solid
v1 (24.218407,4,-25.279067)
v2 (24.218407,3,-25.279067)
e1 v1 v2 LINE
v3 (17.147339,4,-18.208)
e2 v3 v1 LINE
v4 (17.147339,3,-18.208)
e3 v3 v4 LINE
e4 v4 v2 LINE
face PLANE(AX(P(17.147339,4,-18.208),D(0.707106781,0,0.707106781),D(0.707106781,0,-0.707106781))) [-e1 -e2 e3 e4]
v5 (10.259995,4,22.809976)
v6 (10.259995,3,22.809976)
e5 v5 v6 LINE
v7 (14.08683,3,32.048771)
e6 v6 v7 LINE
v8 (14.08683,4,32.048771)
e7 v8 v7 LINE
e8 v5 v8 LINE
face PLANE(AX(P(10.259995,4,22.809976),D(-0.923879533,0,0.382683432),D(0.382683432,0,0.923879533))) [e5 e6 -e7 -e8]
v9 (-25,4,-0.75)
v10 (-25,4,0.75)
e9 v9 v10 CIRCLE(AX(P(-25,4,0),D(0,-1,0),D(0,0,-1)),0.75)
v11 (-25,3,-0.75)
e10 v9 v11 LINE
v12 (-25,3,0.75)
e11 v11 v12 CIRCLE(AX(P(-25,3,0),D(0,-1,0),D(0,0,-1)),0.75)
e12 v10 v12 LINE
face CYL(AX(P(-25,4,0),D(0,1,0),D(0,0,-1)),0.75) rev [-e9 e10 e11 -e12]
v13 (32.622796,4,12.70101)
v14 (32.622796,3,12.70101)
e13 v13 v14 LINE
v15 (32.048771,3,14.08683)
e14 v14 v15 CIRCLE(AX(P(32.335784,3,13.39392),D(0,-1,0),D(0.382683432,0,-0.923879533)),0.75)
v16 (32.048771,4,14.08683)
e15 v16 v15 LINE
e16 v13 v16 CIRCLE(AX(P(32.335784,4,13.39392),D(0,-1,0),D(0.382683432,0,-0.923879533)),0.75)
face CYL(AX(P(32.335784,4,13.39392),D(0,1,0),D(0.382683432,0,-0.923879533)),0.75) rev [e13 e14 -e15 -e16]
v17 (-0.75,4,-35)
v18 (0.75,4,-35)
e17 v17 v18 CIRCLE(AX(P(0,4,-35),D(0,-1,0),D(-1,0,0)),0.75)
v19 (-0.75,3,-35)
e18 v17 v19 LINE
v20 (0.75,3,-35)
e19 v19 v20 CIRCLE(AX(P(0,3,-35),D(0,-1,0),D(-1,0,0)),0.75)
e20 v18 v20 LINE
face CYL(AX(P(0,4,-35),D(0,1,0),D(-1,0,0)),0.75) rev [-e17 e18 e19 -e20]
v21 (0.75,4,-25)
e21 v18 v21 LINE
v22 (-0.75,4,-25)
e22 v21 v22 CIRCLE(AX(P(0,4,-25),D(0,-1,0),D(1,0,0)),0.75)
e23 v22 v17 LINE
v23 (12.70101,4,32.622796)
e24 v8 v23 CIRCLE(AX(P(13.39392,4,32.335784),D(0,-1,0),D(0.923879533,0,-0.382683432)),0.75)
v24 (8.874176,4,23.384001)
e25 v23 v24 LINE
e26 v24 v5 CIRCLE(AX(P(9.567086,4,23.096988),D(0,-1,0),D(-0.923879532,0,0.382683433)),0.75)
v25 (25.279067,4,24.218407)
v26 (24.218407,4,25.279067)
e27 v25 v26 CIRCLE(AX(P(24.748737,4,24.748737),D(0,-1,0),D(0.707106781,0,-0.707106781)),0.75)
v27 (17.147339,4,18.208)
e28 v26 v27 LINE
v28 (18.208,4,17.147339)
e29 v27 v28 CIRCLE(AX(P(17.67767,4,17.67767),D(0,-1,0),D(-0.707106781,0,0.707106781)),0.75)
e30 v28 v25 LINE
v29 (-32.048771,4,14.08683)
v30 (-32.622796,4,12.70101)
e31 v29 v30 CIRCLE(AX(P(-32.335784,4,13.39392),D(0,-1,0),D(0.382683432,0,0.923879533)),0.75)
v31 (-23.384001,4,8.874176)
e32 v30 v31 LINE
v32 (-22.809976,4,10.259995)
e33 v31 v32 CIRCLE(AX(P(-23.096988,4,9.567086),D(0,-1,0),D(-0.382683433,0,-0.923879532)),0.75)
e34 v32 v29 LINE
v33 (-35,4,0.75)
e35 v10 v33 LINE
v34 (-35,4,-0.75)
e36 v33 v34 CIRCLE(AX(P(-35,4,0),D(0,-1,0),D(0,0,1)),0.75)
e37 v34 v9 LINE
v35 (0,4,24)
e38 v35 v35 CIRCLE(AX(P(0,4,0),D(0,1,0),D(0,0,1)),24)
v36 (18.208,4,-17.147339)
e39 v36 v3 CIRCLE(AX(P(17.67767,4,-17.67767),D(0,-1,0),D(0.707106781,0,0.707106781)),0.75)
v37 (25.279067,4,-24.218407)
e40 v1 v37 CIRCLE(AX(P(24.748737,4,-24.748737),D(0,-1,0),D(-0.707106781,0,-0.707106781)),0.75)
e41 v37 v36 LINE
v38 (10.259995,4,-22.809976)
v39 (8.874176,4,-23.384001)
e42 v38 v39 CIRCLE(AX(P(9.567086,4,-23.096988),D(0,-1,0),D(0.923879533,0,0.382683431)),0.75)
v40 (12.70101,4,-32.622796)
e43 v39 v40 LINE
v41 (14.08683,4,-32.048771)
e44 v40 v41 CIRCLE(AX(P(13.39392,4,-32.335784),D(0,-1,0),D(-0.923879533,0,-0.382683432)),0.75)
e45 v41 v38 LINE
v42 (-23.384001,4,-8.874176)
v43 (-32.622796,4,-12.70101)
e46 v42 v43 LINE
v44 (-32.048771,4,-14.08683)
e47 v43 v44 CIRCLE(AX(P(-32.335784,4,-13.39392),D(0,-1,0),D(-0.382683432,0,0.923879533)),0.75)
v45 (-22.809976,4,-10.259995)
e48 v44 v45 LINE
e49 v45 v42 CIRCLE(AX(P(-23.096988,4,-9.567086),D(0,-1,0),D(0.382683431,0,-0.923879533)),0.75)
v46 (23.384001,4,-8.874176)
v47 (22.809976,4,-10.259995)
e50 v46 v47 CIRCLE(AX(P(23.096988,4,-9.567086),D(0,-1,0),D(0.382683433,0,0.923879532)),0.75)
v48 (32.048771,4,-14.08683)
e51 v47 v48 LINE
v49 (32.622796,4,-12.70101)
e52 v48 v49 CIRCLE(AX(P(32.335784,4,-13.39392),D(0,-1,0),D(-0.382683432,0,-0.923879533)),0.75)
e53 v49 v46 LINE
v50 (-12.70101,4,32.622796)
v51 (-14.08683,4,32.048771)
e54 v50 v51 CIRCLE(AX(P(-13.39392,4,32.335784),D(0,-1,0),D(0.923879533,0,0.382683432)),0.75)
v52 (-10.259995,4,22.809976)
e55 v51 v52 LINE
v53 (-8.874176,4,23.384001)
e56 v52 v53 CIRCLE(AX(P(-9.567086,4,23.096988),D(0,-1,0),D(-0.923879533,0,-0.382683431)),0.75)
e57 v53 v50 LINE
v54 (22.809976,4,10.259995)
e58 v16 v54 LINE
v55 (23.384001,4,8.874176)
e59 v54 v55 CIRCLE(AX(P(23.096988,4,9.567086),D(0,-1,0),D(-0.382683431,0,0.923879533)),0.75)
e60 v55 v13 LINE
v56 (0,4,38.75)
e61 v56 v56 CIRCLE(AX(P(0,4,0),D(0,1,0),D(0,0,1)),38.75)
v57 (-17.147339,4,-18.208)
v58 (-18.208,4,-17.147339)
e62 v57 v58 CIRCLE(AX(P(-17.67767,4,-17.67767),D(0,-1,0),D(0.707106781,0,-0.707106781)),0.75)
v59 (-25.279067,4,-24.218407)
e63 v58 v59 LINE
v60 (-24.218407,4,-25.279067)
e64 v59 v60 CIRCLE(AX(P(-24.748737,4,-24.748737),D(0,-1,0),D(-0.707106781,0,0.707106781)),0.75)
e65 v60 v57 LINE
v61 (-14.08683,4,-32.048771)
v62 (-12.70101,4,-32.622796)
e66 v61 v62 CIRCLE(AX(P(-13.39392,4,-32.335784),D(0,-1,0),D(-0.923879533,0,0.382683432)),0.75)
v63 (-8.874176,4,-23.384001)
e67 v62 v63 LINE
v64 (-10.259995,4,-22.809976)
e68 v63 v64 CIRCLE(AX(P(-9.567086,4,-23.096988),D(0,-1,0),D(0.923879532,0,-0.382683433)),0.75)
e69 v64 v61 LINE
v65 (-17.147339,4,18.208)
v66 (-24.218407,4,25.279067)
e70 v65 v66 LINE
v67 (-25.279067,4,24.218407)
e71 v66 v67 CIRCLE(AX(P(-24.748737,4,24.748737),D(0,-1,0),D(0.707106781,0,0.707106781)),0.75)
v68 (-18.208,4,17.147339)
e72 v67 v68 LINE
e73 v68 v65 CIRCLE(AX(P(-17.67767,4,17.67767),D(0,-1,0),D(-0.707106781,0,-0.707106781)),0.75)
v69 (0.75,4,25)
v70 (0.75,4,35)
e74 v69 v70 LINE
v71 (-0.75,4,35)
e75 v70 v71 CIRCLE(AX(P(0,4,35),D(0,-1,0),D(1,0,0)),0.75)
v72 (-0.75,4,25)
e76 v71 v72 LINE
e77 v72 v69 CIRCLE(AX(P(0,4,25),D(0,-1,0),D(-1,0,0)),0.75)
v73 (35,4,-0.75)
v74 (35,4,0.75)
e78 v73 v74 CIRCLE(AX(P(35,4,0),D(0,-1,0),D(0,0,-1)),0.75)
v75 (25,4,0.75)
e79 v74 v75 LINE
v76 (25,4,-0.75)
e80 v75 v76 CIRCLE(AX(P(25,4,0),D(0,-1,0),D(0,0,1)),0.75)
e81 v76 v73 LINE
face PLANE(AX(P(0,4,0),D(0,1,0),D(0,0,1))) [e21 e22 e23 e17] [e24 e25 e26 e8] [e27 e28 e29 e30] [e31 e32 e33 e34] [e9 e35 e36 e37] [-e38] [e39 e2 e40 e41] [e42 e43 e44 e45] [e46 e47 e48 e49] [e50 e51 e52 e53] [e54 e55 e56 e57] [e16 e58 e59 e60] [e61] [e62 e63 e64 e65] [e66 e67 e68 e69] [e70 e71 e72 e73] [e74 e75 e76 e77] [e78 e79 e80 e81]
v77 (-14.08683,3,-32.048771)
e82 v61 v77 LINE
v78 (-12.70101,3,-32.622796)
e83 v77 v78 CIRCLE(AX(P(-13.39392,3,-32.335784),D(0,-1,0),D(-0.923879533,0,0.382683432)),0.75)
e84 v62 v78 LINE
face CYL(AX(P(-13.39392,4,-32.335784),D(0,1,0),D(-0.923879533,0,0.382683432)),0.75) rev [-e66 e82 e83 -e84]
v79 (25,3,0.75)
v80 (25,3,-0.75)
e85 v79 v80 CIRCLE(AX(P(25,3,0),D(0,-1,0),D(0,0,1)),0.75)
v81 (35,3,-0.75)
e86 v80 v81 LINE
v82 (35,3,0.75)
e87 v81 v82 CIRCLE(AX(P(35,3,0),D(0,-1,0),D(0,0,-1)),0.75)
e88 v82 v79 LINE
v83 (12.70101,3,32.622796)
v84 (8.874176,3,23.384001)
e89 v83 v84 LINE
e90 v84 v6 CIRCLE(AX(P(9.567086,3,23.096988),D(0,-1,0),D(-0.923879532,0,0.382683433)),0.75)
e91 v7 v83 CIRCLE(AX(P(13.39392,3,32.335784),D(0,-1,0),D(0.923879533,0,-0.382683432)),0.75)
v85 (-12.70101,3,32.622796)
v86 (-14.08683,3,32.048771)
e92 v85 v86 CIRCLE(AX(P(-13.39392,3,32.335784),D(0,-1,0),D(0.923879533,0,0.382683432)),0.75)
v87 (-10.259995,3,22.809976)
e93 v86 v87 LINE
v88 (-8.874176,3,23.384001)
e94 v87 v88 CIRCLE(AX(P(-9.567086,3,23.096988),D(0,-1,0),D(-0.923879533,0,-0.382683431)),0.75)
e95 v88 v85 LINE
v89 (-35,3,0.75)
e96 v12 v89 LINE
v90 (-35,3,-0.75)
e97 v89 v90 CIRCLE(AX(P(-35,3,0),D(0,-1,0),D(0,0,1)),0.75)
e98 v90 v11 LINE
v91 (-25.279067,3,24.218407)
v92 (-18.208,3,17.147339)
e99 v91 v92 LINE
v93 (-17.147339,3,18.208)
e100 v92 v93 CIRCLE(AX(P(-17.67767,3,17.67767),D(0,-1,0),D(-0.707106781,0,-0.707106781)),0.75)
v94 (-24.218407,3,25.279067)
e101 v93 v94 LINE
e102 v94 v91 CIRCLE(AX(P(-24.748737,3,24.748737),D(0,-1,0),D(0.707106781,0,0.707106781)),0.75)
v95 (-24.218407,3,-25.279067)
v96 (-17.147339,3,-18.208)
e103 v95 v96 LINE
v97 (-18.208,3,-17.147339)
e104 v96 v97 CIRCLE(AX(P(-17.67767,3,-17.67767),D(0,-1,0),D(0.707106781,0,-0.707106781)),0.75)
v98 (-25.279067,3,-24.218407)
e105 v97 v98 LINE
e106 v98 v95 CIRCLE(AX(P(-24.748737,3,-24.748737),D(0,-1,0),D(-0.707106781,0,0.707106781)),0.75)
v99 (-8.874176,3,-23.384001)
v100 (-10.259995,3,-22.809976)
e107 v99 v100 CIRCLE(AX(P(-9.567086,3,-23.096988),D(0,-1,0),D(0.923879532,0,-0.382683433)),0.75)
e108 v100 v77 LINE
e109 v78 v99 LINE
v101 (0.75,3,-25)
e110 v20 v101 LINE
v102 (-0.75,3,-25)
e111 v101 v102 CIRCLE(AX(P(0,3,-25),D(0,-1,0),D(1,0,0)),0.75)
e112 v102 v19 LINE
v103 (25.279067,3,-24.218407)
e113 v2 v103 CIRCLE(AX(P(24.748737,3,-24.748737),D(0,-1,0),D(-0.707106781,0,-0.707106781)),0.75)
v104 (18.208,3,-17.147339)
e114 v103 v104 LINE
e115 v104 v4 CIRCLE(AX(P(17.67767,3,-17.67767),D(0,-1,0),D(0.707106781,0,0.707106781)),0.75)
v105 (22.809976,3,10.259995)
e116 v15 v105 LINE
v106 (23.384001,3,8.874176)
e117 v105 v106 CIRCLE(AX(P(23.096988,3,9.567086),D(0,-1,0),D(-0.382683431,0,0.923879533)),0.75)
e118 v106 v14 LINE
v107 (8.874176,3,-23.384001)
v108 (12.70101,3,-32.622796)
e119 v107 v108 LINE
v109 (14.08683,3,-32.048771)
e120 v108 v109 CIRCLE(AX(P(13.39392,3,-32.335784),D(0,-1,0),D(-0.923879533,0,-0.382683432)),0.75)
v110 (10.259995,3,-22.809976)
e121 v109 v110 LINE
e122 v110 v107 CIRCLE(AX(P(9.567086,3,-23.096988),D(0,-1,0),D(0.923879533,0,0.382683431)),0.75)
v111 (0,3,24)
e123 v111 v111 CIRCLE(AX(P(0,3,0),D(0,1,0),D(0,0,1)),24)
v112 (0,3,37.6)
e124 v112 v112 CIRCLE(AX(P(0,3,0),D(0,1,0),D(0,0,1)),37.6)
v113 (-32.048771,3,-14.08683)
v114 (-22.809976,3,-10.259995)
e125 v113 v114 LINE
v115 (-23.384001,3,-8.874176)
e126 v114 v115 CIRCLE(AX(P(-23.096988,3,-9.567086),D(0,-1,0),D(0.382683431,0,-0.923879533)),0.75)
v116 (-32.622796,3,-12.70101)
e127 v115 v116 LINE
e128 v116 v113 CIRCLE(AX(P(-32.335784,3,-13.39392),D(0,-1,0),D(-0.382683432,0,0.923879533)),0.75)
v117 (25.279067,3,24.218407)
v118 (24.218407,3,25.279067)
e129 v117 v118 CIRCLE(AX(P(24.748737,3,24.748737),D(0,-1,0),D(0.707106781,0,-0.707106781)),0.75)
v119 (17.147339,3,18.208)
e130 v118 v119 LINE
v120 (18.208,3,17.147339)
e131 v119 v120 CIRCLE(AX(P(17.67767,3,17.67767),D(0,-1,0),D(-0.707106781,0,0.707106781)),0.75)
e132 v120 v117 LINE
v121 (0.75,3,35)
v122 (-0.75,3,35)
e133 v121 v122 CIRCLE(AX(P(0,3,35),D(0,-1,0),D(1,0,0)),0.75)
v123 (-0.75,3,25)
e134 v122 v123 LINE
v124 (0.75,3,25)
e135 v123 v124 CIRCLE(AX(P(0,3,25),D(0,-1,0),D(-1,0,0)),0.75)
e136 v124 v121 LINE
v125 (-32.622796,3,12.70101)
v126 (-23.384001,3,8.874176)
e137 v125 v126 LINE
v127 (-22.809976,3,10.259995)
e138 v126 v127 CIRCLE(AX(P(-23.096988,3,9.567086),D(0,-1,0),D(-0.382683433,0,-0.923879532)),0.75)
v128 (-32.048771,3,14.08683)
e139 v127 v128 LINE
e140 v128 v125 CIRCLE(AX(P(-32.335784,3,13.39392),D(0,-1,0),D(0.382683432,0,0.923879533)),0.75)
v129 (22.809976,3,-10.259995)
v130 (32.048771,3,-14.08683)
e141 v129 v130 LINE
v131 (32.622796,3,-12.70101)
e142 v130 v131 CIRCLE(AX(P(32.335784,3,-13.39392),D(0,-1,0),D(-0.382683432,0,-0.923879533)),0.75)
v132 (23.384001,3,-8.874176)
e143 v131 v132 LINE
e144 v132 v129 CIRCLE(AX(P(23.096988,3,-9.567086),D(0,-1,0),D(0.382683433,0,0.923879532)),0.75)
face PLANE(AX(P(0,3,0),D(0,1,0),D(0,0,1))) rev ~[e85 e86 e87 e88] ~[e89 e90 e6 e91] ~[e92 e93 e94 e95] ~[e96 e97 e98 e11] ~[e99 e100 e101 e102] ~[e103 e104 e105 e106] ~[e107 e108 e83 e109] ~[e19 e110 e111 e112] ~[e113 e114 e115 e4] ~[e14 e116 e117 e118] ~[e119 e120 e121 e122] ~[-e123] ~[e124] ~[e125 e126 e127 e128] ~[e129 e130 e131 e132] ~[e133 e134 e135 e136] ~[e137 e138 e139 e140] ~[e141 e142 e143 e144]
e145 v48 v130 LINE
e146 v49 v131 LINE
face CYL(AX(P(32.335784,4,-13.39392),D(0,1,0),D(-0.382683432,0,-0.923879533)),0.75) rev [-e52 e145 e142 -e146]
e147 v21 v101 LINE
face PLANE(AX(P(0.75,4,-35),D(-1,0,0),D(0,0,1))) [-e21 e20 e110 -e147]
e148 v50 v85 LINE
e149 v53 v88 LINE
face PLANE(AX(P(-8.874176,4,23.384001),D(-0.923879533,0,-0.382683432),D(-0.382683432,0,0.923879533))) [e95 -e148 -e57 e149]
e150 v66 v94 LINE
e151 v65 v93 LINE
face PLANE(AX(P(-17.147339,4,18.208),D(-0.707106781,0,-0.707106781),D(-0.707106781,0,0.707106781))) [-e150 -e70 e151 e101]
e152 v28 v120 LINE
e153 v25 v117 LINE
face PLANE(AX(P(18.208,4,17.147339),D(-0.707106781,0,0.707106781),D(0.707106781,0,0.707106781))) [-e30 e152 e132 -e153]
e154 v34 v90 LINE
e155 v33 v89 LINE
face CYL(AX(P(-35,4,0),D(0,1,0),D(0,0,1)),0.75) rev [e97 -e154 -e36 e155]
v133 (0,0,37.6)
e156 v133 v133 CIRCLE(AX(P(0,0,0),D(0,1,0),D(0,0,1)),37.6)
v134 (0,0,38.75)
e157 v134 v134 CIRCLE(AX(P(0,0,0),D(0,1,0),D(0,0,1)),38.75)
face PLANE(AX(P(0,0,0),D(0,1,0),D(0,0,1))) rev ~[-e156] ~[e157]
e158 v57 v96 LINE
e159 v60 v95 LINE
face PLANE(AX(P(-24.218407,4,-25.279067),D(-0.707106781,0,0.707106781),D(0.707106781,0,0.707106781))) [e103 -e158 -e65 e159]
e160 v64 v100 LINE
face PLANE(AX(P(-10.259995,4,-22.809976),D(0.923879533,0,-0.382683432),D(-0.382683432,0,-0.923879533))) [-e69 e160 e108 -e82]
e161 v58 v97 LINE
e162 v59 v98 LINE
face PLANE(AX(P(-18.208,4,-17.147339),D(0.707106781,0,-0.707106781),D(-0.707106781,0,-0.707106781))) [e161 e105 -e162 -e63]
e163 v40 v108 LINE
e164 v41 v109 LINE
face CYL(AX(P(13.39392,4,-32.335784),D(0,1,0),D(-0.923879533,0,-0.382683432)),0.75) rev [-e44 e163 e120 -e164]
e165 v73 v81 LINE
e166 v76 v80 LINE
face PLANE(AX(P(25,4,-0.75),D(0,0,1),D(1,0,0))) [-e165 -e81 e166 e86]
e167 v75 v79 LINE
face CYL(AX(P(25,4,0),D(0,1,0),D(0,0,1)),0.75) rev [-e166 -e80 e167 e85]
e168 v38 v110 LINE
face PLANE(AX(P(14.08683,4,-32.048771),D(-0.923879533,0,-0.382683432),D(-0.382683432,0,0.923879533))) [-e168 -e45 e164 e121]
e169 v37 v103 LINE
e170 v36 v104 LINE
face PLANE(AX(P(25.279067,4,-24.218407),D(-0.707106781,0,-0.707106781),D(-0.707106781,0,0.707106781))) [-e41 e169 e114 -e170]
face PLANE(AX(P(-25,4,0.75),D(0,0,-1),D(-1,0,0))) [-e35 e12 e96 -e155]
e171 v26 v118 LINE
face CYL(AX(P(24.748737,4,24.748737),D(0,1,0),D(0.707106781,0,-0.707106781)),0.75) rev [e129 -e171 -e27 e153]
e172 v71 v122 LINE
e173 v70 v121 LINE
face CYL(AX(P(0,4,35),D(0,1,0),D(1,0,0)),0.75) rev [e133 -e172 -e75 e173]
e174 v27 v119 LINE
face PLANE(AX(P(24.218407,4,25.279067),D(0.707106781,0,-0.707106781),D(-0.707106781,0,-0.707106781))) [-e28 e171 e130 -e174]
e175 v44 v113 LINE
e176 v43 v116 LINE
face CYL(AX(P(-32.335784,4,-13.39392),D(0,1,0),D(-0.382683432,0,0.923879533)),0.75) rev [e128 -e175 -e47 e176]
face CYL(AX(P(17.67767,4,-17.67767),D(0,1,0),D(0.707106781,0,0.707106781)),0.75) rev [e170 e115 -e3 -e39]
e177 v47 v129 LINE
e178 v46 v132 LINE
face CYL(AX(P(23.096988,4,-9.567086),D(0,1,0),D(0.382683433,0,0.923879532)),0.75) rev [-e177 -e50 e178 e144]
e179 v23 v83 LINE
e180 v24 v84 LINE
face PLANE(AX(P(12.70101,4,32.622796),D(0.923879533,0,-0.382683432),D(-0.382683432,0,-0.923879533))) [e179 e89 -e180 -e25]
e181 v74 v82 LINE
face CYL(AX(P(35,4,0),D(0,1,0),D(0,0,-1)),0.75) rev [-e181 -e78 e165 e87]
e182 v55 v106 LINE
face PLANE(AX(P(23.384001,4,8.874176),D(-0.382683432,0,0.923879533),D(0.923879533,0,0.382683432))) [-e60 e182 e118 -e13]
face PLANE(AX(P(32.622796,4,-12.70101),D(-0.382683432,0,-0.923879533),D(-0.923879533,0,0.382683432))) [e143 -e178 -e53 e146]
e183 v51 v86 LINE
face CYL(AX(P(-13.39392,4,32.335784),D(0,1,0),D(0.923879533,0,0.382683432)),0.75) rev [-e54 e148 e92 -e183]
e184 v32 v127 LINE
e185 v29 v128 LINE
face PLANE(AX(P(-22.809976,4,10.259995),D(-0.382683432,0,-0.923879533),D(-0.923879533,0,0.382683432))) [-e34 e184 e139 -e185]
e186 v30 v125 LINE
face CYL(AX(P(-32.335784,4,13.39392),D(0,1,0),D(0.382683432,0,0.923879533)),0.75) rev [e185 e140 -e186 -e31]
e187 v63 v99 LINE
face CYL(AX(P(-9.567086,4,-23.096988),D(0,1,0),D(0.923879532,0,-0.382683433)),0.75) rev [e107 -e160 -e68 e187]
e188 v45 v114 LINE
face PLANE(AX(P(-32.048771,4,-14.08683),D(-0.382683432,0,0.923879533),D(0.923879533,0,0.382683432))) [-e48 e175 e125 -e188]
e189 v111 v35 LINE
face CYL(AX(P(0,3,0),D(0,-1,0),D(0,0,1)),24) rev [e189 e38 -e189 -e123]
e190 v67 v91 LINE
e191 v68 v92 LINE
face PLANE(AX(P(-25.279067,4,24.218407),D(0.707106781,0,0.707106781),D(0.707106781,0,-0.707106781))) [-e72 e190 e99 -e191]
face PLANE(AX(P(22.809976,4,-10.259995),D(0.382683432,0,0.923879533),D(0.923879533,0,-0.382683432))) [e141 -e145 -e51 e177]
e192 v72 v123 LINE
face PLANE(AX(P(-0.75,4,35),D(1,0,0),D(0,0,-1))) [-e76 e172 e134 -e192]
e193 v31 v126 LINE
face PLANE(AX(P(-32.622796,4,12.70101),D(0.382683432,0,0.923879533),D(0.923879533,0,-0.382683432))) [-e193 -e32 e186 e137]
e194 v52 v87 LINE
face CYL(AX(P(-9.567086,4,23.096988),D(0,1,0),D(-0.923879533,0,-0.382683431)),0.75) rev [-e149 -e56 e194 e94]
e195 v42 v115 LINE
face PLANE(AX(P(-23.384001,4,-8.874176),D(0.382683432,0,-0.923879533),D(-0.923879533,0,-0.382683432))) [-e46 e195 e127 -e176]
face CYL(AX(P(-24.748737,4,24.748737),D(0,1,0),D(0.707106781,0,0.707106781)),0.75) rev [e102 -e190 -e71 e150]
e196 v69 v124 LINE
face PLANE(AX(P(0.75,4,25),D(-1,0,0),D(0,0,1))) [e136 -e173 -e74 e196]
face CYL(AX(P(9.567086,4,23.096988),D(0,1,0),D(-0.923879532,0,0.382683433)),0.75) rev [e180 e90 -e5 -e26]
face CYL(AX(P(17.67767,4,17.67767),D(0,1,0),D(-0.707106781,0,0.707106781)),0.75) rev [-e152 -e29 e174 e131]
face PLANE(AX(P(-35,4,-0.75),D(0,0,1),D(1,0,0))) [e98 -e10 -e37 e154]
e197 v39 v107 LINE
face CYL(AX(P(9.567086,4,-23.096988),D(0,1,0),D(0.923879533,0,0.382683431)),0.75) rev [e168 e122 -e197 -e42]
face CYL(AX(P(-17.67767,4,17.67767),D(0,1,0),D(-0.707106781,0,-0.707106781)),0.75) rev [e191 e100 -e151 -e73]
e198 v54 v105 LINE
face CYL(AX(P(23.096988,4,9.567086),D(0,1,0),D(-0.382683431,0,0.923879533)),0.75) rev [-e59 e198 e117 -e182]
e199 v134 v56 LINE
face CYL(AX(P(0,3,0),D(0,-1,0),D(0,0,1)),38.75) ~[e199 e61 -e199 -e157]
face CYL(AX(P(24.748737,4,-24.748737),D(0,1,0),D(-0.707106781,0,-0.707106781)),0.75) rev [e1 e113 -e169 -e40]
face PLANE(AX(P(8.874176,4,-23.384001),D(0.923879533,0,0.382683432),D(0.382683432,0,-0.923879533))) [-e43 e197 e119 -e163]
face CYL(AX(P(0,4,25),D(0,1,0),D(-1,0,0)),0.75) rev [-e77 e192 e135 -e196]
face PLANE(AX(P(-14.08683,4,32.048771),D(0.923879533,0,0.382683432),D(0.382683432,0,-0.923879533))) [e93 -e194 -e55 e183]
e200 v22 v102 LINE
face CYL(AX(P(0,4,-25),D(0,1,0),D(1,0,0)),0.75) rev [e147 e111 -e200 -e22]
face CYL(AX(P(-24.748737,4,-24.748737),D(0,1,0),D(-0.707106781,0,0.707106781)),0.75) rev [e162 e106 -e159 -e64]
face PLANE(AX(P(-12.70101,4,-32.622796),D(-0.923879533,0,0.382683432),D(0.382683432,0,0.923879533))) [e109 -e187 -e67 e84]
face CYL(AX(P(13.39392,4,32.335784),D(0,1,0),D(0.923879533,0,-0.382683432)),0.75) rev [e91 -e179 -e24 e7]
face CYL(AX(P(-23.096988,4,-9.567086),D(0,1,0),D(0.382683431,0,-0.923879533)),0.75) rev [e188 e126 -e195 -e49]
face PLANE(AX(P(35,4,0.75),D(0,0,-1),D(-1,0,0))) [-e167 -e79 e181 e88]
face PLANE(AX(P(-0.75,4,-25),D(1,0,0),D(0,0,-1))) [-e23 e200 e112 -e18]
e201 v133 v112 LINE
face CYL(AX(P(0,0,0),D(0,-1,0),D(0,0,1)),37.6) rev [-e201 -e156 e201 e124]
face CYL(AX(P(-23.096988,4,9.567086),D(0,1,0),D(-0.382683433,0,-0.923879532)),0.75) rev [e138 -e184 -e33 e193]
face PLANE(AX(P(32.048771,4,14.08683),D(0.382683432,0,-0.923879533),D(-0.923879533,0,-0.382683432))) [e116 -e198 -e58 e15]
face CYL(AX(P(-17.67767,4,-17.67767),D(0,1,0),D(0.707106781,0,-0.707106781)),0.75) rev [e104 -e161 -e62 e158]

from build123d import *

# Parameters (mm, degrees)
SKETCH1_R           = 38.75
SKETCH1_R_2         = 37.6
BOSS_EXTRUDE1_DEPTH = 3
SKETCH2_R           = 38.75
SKETCH2_R_2         = 24
BOSS_EXTRUDE2_DEPTH = 1
CUT_EXTRUDE3_DEPTH  = 1


with BuildPart() as part:
    # Sketch1 → Boss-Extrude1 (new body)
    with BuildSketch(Plane(origin=(0, 0, 0), x_dir=(1, 0, 0), z_dir=(0, 1, 0))):
        with Locations(Location((0, 0, 0), (0, 0, 270))):
            Circle(SKETCH1_R)
        with Locations(Location((0, 0, 0), (0, 0, 270))):
            Circle(SKETCH1_R_2, mode=Mode.SUBTRACT)
    extrude(amount=BOSS_EXTRUDE1_DEPTH)

    # Sketch2 → Boss-Extrude2 (add)
    with BuildSketch(Plane(origin=(0, 3, 0), x_dir=(1, 0, 0), z_dir=(0, 1, 0))):
        with Locations(Location((0, 0, 0), (0, 0, 270))):
            Circle(SKETCH2_R)
        with Locations(Location((0, 0, 0), (0, 0, 270))):
            Circle(SKETCH2_R_2, mode=Mode.SUBTRACT)
    extrude(amount=BOSS_EXTRUDE2_DEPTH)

    # Sketch4 → Cut-Extrude3 (cut)
    with BuildSketch(Plane(origin=(0, 4, 0), x_dir=(1, 0, 0), z_dir=(0, 1, 0))):
        with BuildLine():
            Line((-0.75, 25), (-0.75, 35))
            ThreePointArc((-0.75, 35), (0, 35.75), (0.75, 35))
            Line((0.75, 35), (0.75, 25))
            ThreePointArc((0.75, 25), (0, 24.25), (-0.75, 25))
        make_face()
        with BuildLine():
            Line((8.87417616, 23.384000887), (12.701010483, 32.622796212))
            ThreePointArc((12.701010483, 32.622796212), (13.680932707, 33.028693287), (14.086829782, 32.048771064))
            Line((14.086829782, 32.048771064), (10.259995459, 22.809975739))
            ThreePointArc((10.259995459, 22.809975739), (9.280073235, 22.404078663), (8.87417616, 23.384000887))
        make_face()
        with BuildLine():
            Line((17.147339444, 18.207999616), (24.218407256, 25.279067427))
            ThreePointArc((24.218407256, 25.279067427), (25.279067427, 25.279067427), (25.279067427, 24.218407256))
            Line((25.279067427, 24.218407256), (18.207999616, 17.147339444))
            ThreePointArc((18.207999616, 17.147339444), (17.147339444, 17.147339444), (17.147339444, 18.207999616))
        make_face()
        with BuildLine():
            Line((22.809975739, 10.259995459), (32.048771064, 14.086829782))
            ThreePointArc((32.048771064, 14.086829782), (33.028693287, 13.680932707), (32.622796212, 12.701010483))
            Line((32.622796212, 12.701010483), (23.384000887, 8.87417616))
            ThreePointArc((23.384000887, 8.87417616), (22.404078663, 9.280073235), (22.809975739, 10.259995459))
        make_face()
        with BuildLine():
            Line((25, 0.75), (35, 0.75))
            ThreePointArc((35, 0.75), (35.75, 0), (35, -0.75))
            Line((35, -0.75), (25, -0.75))
            ThreePointArc((25, -0.75), (24.25, 0), (25, 0.75))
        make_face()
        with BuildLine():
            Line((23.384000887, -8.87417616), (32.622796212, -12.701010483))
            ThreePointArc((32.622796212, -12.701010483), (33.028693287, -13.680932707), (32.048771064, -14.086829782))
            Line((32.048771064, -14.086829782), (22.809975739, -10.259995459))
            ThreePointArc((22.809975739, -10.259995459), (22.404078663, -9.280073235), (23.384000887, -8.87417616))
        make_face()
        with BuildLine():
            Line((18.207999616, -17.147339444), (25.279067427, -24.218407256))
            ThreePointArc((25.279067427, -24.218407256), (25.279067427, -25.279067427), (24.218407256, -25.279067427))
            Line((24.218407256, -25.279067427), (17.147339444, -18.207999616))
            ThreePointArc((17.147339444, -18.207999616), (17.147339444, -17.147339444), (18.207999616, -17.147339444))
        make_face()
        with BuildLine():
            Line((10.259995459, -22.809975739), (14.086829782, -32.048771064))
            ThreePointArc((14.086829782, -32.048771064), (13.680932707, -33.028693287), (12.701010483, -32.622796212))
            Line((12.701010483, -32.622796212), (8.87417616, -23.384000887))
            ThreePointArc((8.87417616, -23.384000887), (9.280073235, -22.404078663), (10.259995459, -22.809975739))
        make_face()
        with BuildLine():
            Line((0.75, -25), (0.75, -35))
            ThreePointArc((0.75, -35), (0, -35.75), (-0.75, -35))
            Line((-0.75, -35), (-0.75, -25))
            ThreePointArc((-0.75, -25), (0, -24.25), (0.75, -25))
        make_face()
        with BuildLine():
            Line((-8.87417616, -23.384000887), (-12.701010483, -32.622796212))
            ThreePointArc((-12.701010483, -32.622796212), (-13.680932707, -33.028693287), (-14.086829782, -32.048771064))
            Line((-14.086829782, -32.048771064), (-10.259995459, -22.809975739))
            ThreePointArc((-10.259995459, -22.809975739), (-9.280073235, -22.404078663), (-8.87417616, -23.384000887))
        make_face()
        with BuildLine():
            Line((-17.147339444, -18.207999616), (-24.218407256, -25.279067427))
            ThreePointArc((-24.218407256, -25.279067427), (-25.279067427, -25.279067427), (-25.279067427, -24.218407256))
            Line((-25.279067427, -24.218407256), (-18.207999616, -17.147339444))
            ThreePointArc((-18.207999616, -17.147339444), (-17.147339444, -17.147339444), (-17.147339444, -18.207999616))
        make_face()
        with BuildLine():
            Line((-22.809975739, -10.259995459), (-32.048771064, -14.086829782))
            ThreePointArc((-32.048771064, -14.086829782), (-33.028693287, -13.680932707), (-32.622796212, -12.701010483))
            Line((-32.622796212, -12.701010483), (-23.384000887, -8.87417616))
            ThreePointArc((-23.384000887, -8.87417616), (-22.404078663, -9.280073235), (-22.809975739, -10.259995459))
        make_face()
        with BuildLine():
            Line((-25, -0.75), (-35, -0.75))
            ThreePointArc((-35, -0.75), (-35.75, 0), (-35, 0.75))
            Line((-35, 0.75), (-25, 0.75))
            ThreePointArc((-25, 0.75), (-24.25, 0), (-25, -0.75))
        make_face()
        with BuildLine():
            Line((-23.384000887, 8.87417616), (-32.622796212, 12.701010483))
            ThreePointArc((-32.622796212, 12.701010483), (-33.028693287, 13.680932707), (-32.048771064, 14.086829782))
            Line((-32.048771064, 14.086829782), (-22.809975739, 10.259995459))
            ThreePointArc((-22.809975739, 10.259995459), (-22.404078663, 9.280073235), (-23.384000887, 8.87417616))
        make_face()
        with BuildLine():
            Line((-18.207999616, 17.147339444), (-25.279067427, 24.218407256))
            ThreePointArc((-25.279067427, 24.218407256), (-25.279067427, 25.279067427), (-24.218407256, 25.279067427))
            Line((-24.218407256, 25.279067427), (-17.147339444, 18.207999616))
            ThreePointArc((-17.147339444, 18.207999616), (-17.147339444, 17.147339444), (-18.207999616, 17.147339444))
        make_face()
        with BuildLine():
            Line((-10.259995459, 22.809975739), (-14.086829782, 32.048771064))
            ThreePointArc((-14.086829782, 32.048771064), (-13.680932707, 33.028693287), (-12.701010483, 32.622796212))
            Line((-12.701010483, 32.622796212), (-8.87417616, 23.384000887))
            ThreePointArc((-8.87417616, 23.384000887), (-9.280073235, 22.404078663), (-10.259995459, 22.809975739))
        make_face()
    extrude(amount=-CUT_EXTRUDE3_DEPTH, mode=Mode.SUBTRACT)


solid = part.part
